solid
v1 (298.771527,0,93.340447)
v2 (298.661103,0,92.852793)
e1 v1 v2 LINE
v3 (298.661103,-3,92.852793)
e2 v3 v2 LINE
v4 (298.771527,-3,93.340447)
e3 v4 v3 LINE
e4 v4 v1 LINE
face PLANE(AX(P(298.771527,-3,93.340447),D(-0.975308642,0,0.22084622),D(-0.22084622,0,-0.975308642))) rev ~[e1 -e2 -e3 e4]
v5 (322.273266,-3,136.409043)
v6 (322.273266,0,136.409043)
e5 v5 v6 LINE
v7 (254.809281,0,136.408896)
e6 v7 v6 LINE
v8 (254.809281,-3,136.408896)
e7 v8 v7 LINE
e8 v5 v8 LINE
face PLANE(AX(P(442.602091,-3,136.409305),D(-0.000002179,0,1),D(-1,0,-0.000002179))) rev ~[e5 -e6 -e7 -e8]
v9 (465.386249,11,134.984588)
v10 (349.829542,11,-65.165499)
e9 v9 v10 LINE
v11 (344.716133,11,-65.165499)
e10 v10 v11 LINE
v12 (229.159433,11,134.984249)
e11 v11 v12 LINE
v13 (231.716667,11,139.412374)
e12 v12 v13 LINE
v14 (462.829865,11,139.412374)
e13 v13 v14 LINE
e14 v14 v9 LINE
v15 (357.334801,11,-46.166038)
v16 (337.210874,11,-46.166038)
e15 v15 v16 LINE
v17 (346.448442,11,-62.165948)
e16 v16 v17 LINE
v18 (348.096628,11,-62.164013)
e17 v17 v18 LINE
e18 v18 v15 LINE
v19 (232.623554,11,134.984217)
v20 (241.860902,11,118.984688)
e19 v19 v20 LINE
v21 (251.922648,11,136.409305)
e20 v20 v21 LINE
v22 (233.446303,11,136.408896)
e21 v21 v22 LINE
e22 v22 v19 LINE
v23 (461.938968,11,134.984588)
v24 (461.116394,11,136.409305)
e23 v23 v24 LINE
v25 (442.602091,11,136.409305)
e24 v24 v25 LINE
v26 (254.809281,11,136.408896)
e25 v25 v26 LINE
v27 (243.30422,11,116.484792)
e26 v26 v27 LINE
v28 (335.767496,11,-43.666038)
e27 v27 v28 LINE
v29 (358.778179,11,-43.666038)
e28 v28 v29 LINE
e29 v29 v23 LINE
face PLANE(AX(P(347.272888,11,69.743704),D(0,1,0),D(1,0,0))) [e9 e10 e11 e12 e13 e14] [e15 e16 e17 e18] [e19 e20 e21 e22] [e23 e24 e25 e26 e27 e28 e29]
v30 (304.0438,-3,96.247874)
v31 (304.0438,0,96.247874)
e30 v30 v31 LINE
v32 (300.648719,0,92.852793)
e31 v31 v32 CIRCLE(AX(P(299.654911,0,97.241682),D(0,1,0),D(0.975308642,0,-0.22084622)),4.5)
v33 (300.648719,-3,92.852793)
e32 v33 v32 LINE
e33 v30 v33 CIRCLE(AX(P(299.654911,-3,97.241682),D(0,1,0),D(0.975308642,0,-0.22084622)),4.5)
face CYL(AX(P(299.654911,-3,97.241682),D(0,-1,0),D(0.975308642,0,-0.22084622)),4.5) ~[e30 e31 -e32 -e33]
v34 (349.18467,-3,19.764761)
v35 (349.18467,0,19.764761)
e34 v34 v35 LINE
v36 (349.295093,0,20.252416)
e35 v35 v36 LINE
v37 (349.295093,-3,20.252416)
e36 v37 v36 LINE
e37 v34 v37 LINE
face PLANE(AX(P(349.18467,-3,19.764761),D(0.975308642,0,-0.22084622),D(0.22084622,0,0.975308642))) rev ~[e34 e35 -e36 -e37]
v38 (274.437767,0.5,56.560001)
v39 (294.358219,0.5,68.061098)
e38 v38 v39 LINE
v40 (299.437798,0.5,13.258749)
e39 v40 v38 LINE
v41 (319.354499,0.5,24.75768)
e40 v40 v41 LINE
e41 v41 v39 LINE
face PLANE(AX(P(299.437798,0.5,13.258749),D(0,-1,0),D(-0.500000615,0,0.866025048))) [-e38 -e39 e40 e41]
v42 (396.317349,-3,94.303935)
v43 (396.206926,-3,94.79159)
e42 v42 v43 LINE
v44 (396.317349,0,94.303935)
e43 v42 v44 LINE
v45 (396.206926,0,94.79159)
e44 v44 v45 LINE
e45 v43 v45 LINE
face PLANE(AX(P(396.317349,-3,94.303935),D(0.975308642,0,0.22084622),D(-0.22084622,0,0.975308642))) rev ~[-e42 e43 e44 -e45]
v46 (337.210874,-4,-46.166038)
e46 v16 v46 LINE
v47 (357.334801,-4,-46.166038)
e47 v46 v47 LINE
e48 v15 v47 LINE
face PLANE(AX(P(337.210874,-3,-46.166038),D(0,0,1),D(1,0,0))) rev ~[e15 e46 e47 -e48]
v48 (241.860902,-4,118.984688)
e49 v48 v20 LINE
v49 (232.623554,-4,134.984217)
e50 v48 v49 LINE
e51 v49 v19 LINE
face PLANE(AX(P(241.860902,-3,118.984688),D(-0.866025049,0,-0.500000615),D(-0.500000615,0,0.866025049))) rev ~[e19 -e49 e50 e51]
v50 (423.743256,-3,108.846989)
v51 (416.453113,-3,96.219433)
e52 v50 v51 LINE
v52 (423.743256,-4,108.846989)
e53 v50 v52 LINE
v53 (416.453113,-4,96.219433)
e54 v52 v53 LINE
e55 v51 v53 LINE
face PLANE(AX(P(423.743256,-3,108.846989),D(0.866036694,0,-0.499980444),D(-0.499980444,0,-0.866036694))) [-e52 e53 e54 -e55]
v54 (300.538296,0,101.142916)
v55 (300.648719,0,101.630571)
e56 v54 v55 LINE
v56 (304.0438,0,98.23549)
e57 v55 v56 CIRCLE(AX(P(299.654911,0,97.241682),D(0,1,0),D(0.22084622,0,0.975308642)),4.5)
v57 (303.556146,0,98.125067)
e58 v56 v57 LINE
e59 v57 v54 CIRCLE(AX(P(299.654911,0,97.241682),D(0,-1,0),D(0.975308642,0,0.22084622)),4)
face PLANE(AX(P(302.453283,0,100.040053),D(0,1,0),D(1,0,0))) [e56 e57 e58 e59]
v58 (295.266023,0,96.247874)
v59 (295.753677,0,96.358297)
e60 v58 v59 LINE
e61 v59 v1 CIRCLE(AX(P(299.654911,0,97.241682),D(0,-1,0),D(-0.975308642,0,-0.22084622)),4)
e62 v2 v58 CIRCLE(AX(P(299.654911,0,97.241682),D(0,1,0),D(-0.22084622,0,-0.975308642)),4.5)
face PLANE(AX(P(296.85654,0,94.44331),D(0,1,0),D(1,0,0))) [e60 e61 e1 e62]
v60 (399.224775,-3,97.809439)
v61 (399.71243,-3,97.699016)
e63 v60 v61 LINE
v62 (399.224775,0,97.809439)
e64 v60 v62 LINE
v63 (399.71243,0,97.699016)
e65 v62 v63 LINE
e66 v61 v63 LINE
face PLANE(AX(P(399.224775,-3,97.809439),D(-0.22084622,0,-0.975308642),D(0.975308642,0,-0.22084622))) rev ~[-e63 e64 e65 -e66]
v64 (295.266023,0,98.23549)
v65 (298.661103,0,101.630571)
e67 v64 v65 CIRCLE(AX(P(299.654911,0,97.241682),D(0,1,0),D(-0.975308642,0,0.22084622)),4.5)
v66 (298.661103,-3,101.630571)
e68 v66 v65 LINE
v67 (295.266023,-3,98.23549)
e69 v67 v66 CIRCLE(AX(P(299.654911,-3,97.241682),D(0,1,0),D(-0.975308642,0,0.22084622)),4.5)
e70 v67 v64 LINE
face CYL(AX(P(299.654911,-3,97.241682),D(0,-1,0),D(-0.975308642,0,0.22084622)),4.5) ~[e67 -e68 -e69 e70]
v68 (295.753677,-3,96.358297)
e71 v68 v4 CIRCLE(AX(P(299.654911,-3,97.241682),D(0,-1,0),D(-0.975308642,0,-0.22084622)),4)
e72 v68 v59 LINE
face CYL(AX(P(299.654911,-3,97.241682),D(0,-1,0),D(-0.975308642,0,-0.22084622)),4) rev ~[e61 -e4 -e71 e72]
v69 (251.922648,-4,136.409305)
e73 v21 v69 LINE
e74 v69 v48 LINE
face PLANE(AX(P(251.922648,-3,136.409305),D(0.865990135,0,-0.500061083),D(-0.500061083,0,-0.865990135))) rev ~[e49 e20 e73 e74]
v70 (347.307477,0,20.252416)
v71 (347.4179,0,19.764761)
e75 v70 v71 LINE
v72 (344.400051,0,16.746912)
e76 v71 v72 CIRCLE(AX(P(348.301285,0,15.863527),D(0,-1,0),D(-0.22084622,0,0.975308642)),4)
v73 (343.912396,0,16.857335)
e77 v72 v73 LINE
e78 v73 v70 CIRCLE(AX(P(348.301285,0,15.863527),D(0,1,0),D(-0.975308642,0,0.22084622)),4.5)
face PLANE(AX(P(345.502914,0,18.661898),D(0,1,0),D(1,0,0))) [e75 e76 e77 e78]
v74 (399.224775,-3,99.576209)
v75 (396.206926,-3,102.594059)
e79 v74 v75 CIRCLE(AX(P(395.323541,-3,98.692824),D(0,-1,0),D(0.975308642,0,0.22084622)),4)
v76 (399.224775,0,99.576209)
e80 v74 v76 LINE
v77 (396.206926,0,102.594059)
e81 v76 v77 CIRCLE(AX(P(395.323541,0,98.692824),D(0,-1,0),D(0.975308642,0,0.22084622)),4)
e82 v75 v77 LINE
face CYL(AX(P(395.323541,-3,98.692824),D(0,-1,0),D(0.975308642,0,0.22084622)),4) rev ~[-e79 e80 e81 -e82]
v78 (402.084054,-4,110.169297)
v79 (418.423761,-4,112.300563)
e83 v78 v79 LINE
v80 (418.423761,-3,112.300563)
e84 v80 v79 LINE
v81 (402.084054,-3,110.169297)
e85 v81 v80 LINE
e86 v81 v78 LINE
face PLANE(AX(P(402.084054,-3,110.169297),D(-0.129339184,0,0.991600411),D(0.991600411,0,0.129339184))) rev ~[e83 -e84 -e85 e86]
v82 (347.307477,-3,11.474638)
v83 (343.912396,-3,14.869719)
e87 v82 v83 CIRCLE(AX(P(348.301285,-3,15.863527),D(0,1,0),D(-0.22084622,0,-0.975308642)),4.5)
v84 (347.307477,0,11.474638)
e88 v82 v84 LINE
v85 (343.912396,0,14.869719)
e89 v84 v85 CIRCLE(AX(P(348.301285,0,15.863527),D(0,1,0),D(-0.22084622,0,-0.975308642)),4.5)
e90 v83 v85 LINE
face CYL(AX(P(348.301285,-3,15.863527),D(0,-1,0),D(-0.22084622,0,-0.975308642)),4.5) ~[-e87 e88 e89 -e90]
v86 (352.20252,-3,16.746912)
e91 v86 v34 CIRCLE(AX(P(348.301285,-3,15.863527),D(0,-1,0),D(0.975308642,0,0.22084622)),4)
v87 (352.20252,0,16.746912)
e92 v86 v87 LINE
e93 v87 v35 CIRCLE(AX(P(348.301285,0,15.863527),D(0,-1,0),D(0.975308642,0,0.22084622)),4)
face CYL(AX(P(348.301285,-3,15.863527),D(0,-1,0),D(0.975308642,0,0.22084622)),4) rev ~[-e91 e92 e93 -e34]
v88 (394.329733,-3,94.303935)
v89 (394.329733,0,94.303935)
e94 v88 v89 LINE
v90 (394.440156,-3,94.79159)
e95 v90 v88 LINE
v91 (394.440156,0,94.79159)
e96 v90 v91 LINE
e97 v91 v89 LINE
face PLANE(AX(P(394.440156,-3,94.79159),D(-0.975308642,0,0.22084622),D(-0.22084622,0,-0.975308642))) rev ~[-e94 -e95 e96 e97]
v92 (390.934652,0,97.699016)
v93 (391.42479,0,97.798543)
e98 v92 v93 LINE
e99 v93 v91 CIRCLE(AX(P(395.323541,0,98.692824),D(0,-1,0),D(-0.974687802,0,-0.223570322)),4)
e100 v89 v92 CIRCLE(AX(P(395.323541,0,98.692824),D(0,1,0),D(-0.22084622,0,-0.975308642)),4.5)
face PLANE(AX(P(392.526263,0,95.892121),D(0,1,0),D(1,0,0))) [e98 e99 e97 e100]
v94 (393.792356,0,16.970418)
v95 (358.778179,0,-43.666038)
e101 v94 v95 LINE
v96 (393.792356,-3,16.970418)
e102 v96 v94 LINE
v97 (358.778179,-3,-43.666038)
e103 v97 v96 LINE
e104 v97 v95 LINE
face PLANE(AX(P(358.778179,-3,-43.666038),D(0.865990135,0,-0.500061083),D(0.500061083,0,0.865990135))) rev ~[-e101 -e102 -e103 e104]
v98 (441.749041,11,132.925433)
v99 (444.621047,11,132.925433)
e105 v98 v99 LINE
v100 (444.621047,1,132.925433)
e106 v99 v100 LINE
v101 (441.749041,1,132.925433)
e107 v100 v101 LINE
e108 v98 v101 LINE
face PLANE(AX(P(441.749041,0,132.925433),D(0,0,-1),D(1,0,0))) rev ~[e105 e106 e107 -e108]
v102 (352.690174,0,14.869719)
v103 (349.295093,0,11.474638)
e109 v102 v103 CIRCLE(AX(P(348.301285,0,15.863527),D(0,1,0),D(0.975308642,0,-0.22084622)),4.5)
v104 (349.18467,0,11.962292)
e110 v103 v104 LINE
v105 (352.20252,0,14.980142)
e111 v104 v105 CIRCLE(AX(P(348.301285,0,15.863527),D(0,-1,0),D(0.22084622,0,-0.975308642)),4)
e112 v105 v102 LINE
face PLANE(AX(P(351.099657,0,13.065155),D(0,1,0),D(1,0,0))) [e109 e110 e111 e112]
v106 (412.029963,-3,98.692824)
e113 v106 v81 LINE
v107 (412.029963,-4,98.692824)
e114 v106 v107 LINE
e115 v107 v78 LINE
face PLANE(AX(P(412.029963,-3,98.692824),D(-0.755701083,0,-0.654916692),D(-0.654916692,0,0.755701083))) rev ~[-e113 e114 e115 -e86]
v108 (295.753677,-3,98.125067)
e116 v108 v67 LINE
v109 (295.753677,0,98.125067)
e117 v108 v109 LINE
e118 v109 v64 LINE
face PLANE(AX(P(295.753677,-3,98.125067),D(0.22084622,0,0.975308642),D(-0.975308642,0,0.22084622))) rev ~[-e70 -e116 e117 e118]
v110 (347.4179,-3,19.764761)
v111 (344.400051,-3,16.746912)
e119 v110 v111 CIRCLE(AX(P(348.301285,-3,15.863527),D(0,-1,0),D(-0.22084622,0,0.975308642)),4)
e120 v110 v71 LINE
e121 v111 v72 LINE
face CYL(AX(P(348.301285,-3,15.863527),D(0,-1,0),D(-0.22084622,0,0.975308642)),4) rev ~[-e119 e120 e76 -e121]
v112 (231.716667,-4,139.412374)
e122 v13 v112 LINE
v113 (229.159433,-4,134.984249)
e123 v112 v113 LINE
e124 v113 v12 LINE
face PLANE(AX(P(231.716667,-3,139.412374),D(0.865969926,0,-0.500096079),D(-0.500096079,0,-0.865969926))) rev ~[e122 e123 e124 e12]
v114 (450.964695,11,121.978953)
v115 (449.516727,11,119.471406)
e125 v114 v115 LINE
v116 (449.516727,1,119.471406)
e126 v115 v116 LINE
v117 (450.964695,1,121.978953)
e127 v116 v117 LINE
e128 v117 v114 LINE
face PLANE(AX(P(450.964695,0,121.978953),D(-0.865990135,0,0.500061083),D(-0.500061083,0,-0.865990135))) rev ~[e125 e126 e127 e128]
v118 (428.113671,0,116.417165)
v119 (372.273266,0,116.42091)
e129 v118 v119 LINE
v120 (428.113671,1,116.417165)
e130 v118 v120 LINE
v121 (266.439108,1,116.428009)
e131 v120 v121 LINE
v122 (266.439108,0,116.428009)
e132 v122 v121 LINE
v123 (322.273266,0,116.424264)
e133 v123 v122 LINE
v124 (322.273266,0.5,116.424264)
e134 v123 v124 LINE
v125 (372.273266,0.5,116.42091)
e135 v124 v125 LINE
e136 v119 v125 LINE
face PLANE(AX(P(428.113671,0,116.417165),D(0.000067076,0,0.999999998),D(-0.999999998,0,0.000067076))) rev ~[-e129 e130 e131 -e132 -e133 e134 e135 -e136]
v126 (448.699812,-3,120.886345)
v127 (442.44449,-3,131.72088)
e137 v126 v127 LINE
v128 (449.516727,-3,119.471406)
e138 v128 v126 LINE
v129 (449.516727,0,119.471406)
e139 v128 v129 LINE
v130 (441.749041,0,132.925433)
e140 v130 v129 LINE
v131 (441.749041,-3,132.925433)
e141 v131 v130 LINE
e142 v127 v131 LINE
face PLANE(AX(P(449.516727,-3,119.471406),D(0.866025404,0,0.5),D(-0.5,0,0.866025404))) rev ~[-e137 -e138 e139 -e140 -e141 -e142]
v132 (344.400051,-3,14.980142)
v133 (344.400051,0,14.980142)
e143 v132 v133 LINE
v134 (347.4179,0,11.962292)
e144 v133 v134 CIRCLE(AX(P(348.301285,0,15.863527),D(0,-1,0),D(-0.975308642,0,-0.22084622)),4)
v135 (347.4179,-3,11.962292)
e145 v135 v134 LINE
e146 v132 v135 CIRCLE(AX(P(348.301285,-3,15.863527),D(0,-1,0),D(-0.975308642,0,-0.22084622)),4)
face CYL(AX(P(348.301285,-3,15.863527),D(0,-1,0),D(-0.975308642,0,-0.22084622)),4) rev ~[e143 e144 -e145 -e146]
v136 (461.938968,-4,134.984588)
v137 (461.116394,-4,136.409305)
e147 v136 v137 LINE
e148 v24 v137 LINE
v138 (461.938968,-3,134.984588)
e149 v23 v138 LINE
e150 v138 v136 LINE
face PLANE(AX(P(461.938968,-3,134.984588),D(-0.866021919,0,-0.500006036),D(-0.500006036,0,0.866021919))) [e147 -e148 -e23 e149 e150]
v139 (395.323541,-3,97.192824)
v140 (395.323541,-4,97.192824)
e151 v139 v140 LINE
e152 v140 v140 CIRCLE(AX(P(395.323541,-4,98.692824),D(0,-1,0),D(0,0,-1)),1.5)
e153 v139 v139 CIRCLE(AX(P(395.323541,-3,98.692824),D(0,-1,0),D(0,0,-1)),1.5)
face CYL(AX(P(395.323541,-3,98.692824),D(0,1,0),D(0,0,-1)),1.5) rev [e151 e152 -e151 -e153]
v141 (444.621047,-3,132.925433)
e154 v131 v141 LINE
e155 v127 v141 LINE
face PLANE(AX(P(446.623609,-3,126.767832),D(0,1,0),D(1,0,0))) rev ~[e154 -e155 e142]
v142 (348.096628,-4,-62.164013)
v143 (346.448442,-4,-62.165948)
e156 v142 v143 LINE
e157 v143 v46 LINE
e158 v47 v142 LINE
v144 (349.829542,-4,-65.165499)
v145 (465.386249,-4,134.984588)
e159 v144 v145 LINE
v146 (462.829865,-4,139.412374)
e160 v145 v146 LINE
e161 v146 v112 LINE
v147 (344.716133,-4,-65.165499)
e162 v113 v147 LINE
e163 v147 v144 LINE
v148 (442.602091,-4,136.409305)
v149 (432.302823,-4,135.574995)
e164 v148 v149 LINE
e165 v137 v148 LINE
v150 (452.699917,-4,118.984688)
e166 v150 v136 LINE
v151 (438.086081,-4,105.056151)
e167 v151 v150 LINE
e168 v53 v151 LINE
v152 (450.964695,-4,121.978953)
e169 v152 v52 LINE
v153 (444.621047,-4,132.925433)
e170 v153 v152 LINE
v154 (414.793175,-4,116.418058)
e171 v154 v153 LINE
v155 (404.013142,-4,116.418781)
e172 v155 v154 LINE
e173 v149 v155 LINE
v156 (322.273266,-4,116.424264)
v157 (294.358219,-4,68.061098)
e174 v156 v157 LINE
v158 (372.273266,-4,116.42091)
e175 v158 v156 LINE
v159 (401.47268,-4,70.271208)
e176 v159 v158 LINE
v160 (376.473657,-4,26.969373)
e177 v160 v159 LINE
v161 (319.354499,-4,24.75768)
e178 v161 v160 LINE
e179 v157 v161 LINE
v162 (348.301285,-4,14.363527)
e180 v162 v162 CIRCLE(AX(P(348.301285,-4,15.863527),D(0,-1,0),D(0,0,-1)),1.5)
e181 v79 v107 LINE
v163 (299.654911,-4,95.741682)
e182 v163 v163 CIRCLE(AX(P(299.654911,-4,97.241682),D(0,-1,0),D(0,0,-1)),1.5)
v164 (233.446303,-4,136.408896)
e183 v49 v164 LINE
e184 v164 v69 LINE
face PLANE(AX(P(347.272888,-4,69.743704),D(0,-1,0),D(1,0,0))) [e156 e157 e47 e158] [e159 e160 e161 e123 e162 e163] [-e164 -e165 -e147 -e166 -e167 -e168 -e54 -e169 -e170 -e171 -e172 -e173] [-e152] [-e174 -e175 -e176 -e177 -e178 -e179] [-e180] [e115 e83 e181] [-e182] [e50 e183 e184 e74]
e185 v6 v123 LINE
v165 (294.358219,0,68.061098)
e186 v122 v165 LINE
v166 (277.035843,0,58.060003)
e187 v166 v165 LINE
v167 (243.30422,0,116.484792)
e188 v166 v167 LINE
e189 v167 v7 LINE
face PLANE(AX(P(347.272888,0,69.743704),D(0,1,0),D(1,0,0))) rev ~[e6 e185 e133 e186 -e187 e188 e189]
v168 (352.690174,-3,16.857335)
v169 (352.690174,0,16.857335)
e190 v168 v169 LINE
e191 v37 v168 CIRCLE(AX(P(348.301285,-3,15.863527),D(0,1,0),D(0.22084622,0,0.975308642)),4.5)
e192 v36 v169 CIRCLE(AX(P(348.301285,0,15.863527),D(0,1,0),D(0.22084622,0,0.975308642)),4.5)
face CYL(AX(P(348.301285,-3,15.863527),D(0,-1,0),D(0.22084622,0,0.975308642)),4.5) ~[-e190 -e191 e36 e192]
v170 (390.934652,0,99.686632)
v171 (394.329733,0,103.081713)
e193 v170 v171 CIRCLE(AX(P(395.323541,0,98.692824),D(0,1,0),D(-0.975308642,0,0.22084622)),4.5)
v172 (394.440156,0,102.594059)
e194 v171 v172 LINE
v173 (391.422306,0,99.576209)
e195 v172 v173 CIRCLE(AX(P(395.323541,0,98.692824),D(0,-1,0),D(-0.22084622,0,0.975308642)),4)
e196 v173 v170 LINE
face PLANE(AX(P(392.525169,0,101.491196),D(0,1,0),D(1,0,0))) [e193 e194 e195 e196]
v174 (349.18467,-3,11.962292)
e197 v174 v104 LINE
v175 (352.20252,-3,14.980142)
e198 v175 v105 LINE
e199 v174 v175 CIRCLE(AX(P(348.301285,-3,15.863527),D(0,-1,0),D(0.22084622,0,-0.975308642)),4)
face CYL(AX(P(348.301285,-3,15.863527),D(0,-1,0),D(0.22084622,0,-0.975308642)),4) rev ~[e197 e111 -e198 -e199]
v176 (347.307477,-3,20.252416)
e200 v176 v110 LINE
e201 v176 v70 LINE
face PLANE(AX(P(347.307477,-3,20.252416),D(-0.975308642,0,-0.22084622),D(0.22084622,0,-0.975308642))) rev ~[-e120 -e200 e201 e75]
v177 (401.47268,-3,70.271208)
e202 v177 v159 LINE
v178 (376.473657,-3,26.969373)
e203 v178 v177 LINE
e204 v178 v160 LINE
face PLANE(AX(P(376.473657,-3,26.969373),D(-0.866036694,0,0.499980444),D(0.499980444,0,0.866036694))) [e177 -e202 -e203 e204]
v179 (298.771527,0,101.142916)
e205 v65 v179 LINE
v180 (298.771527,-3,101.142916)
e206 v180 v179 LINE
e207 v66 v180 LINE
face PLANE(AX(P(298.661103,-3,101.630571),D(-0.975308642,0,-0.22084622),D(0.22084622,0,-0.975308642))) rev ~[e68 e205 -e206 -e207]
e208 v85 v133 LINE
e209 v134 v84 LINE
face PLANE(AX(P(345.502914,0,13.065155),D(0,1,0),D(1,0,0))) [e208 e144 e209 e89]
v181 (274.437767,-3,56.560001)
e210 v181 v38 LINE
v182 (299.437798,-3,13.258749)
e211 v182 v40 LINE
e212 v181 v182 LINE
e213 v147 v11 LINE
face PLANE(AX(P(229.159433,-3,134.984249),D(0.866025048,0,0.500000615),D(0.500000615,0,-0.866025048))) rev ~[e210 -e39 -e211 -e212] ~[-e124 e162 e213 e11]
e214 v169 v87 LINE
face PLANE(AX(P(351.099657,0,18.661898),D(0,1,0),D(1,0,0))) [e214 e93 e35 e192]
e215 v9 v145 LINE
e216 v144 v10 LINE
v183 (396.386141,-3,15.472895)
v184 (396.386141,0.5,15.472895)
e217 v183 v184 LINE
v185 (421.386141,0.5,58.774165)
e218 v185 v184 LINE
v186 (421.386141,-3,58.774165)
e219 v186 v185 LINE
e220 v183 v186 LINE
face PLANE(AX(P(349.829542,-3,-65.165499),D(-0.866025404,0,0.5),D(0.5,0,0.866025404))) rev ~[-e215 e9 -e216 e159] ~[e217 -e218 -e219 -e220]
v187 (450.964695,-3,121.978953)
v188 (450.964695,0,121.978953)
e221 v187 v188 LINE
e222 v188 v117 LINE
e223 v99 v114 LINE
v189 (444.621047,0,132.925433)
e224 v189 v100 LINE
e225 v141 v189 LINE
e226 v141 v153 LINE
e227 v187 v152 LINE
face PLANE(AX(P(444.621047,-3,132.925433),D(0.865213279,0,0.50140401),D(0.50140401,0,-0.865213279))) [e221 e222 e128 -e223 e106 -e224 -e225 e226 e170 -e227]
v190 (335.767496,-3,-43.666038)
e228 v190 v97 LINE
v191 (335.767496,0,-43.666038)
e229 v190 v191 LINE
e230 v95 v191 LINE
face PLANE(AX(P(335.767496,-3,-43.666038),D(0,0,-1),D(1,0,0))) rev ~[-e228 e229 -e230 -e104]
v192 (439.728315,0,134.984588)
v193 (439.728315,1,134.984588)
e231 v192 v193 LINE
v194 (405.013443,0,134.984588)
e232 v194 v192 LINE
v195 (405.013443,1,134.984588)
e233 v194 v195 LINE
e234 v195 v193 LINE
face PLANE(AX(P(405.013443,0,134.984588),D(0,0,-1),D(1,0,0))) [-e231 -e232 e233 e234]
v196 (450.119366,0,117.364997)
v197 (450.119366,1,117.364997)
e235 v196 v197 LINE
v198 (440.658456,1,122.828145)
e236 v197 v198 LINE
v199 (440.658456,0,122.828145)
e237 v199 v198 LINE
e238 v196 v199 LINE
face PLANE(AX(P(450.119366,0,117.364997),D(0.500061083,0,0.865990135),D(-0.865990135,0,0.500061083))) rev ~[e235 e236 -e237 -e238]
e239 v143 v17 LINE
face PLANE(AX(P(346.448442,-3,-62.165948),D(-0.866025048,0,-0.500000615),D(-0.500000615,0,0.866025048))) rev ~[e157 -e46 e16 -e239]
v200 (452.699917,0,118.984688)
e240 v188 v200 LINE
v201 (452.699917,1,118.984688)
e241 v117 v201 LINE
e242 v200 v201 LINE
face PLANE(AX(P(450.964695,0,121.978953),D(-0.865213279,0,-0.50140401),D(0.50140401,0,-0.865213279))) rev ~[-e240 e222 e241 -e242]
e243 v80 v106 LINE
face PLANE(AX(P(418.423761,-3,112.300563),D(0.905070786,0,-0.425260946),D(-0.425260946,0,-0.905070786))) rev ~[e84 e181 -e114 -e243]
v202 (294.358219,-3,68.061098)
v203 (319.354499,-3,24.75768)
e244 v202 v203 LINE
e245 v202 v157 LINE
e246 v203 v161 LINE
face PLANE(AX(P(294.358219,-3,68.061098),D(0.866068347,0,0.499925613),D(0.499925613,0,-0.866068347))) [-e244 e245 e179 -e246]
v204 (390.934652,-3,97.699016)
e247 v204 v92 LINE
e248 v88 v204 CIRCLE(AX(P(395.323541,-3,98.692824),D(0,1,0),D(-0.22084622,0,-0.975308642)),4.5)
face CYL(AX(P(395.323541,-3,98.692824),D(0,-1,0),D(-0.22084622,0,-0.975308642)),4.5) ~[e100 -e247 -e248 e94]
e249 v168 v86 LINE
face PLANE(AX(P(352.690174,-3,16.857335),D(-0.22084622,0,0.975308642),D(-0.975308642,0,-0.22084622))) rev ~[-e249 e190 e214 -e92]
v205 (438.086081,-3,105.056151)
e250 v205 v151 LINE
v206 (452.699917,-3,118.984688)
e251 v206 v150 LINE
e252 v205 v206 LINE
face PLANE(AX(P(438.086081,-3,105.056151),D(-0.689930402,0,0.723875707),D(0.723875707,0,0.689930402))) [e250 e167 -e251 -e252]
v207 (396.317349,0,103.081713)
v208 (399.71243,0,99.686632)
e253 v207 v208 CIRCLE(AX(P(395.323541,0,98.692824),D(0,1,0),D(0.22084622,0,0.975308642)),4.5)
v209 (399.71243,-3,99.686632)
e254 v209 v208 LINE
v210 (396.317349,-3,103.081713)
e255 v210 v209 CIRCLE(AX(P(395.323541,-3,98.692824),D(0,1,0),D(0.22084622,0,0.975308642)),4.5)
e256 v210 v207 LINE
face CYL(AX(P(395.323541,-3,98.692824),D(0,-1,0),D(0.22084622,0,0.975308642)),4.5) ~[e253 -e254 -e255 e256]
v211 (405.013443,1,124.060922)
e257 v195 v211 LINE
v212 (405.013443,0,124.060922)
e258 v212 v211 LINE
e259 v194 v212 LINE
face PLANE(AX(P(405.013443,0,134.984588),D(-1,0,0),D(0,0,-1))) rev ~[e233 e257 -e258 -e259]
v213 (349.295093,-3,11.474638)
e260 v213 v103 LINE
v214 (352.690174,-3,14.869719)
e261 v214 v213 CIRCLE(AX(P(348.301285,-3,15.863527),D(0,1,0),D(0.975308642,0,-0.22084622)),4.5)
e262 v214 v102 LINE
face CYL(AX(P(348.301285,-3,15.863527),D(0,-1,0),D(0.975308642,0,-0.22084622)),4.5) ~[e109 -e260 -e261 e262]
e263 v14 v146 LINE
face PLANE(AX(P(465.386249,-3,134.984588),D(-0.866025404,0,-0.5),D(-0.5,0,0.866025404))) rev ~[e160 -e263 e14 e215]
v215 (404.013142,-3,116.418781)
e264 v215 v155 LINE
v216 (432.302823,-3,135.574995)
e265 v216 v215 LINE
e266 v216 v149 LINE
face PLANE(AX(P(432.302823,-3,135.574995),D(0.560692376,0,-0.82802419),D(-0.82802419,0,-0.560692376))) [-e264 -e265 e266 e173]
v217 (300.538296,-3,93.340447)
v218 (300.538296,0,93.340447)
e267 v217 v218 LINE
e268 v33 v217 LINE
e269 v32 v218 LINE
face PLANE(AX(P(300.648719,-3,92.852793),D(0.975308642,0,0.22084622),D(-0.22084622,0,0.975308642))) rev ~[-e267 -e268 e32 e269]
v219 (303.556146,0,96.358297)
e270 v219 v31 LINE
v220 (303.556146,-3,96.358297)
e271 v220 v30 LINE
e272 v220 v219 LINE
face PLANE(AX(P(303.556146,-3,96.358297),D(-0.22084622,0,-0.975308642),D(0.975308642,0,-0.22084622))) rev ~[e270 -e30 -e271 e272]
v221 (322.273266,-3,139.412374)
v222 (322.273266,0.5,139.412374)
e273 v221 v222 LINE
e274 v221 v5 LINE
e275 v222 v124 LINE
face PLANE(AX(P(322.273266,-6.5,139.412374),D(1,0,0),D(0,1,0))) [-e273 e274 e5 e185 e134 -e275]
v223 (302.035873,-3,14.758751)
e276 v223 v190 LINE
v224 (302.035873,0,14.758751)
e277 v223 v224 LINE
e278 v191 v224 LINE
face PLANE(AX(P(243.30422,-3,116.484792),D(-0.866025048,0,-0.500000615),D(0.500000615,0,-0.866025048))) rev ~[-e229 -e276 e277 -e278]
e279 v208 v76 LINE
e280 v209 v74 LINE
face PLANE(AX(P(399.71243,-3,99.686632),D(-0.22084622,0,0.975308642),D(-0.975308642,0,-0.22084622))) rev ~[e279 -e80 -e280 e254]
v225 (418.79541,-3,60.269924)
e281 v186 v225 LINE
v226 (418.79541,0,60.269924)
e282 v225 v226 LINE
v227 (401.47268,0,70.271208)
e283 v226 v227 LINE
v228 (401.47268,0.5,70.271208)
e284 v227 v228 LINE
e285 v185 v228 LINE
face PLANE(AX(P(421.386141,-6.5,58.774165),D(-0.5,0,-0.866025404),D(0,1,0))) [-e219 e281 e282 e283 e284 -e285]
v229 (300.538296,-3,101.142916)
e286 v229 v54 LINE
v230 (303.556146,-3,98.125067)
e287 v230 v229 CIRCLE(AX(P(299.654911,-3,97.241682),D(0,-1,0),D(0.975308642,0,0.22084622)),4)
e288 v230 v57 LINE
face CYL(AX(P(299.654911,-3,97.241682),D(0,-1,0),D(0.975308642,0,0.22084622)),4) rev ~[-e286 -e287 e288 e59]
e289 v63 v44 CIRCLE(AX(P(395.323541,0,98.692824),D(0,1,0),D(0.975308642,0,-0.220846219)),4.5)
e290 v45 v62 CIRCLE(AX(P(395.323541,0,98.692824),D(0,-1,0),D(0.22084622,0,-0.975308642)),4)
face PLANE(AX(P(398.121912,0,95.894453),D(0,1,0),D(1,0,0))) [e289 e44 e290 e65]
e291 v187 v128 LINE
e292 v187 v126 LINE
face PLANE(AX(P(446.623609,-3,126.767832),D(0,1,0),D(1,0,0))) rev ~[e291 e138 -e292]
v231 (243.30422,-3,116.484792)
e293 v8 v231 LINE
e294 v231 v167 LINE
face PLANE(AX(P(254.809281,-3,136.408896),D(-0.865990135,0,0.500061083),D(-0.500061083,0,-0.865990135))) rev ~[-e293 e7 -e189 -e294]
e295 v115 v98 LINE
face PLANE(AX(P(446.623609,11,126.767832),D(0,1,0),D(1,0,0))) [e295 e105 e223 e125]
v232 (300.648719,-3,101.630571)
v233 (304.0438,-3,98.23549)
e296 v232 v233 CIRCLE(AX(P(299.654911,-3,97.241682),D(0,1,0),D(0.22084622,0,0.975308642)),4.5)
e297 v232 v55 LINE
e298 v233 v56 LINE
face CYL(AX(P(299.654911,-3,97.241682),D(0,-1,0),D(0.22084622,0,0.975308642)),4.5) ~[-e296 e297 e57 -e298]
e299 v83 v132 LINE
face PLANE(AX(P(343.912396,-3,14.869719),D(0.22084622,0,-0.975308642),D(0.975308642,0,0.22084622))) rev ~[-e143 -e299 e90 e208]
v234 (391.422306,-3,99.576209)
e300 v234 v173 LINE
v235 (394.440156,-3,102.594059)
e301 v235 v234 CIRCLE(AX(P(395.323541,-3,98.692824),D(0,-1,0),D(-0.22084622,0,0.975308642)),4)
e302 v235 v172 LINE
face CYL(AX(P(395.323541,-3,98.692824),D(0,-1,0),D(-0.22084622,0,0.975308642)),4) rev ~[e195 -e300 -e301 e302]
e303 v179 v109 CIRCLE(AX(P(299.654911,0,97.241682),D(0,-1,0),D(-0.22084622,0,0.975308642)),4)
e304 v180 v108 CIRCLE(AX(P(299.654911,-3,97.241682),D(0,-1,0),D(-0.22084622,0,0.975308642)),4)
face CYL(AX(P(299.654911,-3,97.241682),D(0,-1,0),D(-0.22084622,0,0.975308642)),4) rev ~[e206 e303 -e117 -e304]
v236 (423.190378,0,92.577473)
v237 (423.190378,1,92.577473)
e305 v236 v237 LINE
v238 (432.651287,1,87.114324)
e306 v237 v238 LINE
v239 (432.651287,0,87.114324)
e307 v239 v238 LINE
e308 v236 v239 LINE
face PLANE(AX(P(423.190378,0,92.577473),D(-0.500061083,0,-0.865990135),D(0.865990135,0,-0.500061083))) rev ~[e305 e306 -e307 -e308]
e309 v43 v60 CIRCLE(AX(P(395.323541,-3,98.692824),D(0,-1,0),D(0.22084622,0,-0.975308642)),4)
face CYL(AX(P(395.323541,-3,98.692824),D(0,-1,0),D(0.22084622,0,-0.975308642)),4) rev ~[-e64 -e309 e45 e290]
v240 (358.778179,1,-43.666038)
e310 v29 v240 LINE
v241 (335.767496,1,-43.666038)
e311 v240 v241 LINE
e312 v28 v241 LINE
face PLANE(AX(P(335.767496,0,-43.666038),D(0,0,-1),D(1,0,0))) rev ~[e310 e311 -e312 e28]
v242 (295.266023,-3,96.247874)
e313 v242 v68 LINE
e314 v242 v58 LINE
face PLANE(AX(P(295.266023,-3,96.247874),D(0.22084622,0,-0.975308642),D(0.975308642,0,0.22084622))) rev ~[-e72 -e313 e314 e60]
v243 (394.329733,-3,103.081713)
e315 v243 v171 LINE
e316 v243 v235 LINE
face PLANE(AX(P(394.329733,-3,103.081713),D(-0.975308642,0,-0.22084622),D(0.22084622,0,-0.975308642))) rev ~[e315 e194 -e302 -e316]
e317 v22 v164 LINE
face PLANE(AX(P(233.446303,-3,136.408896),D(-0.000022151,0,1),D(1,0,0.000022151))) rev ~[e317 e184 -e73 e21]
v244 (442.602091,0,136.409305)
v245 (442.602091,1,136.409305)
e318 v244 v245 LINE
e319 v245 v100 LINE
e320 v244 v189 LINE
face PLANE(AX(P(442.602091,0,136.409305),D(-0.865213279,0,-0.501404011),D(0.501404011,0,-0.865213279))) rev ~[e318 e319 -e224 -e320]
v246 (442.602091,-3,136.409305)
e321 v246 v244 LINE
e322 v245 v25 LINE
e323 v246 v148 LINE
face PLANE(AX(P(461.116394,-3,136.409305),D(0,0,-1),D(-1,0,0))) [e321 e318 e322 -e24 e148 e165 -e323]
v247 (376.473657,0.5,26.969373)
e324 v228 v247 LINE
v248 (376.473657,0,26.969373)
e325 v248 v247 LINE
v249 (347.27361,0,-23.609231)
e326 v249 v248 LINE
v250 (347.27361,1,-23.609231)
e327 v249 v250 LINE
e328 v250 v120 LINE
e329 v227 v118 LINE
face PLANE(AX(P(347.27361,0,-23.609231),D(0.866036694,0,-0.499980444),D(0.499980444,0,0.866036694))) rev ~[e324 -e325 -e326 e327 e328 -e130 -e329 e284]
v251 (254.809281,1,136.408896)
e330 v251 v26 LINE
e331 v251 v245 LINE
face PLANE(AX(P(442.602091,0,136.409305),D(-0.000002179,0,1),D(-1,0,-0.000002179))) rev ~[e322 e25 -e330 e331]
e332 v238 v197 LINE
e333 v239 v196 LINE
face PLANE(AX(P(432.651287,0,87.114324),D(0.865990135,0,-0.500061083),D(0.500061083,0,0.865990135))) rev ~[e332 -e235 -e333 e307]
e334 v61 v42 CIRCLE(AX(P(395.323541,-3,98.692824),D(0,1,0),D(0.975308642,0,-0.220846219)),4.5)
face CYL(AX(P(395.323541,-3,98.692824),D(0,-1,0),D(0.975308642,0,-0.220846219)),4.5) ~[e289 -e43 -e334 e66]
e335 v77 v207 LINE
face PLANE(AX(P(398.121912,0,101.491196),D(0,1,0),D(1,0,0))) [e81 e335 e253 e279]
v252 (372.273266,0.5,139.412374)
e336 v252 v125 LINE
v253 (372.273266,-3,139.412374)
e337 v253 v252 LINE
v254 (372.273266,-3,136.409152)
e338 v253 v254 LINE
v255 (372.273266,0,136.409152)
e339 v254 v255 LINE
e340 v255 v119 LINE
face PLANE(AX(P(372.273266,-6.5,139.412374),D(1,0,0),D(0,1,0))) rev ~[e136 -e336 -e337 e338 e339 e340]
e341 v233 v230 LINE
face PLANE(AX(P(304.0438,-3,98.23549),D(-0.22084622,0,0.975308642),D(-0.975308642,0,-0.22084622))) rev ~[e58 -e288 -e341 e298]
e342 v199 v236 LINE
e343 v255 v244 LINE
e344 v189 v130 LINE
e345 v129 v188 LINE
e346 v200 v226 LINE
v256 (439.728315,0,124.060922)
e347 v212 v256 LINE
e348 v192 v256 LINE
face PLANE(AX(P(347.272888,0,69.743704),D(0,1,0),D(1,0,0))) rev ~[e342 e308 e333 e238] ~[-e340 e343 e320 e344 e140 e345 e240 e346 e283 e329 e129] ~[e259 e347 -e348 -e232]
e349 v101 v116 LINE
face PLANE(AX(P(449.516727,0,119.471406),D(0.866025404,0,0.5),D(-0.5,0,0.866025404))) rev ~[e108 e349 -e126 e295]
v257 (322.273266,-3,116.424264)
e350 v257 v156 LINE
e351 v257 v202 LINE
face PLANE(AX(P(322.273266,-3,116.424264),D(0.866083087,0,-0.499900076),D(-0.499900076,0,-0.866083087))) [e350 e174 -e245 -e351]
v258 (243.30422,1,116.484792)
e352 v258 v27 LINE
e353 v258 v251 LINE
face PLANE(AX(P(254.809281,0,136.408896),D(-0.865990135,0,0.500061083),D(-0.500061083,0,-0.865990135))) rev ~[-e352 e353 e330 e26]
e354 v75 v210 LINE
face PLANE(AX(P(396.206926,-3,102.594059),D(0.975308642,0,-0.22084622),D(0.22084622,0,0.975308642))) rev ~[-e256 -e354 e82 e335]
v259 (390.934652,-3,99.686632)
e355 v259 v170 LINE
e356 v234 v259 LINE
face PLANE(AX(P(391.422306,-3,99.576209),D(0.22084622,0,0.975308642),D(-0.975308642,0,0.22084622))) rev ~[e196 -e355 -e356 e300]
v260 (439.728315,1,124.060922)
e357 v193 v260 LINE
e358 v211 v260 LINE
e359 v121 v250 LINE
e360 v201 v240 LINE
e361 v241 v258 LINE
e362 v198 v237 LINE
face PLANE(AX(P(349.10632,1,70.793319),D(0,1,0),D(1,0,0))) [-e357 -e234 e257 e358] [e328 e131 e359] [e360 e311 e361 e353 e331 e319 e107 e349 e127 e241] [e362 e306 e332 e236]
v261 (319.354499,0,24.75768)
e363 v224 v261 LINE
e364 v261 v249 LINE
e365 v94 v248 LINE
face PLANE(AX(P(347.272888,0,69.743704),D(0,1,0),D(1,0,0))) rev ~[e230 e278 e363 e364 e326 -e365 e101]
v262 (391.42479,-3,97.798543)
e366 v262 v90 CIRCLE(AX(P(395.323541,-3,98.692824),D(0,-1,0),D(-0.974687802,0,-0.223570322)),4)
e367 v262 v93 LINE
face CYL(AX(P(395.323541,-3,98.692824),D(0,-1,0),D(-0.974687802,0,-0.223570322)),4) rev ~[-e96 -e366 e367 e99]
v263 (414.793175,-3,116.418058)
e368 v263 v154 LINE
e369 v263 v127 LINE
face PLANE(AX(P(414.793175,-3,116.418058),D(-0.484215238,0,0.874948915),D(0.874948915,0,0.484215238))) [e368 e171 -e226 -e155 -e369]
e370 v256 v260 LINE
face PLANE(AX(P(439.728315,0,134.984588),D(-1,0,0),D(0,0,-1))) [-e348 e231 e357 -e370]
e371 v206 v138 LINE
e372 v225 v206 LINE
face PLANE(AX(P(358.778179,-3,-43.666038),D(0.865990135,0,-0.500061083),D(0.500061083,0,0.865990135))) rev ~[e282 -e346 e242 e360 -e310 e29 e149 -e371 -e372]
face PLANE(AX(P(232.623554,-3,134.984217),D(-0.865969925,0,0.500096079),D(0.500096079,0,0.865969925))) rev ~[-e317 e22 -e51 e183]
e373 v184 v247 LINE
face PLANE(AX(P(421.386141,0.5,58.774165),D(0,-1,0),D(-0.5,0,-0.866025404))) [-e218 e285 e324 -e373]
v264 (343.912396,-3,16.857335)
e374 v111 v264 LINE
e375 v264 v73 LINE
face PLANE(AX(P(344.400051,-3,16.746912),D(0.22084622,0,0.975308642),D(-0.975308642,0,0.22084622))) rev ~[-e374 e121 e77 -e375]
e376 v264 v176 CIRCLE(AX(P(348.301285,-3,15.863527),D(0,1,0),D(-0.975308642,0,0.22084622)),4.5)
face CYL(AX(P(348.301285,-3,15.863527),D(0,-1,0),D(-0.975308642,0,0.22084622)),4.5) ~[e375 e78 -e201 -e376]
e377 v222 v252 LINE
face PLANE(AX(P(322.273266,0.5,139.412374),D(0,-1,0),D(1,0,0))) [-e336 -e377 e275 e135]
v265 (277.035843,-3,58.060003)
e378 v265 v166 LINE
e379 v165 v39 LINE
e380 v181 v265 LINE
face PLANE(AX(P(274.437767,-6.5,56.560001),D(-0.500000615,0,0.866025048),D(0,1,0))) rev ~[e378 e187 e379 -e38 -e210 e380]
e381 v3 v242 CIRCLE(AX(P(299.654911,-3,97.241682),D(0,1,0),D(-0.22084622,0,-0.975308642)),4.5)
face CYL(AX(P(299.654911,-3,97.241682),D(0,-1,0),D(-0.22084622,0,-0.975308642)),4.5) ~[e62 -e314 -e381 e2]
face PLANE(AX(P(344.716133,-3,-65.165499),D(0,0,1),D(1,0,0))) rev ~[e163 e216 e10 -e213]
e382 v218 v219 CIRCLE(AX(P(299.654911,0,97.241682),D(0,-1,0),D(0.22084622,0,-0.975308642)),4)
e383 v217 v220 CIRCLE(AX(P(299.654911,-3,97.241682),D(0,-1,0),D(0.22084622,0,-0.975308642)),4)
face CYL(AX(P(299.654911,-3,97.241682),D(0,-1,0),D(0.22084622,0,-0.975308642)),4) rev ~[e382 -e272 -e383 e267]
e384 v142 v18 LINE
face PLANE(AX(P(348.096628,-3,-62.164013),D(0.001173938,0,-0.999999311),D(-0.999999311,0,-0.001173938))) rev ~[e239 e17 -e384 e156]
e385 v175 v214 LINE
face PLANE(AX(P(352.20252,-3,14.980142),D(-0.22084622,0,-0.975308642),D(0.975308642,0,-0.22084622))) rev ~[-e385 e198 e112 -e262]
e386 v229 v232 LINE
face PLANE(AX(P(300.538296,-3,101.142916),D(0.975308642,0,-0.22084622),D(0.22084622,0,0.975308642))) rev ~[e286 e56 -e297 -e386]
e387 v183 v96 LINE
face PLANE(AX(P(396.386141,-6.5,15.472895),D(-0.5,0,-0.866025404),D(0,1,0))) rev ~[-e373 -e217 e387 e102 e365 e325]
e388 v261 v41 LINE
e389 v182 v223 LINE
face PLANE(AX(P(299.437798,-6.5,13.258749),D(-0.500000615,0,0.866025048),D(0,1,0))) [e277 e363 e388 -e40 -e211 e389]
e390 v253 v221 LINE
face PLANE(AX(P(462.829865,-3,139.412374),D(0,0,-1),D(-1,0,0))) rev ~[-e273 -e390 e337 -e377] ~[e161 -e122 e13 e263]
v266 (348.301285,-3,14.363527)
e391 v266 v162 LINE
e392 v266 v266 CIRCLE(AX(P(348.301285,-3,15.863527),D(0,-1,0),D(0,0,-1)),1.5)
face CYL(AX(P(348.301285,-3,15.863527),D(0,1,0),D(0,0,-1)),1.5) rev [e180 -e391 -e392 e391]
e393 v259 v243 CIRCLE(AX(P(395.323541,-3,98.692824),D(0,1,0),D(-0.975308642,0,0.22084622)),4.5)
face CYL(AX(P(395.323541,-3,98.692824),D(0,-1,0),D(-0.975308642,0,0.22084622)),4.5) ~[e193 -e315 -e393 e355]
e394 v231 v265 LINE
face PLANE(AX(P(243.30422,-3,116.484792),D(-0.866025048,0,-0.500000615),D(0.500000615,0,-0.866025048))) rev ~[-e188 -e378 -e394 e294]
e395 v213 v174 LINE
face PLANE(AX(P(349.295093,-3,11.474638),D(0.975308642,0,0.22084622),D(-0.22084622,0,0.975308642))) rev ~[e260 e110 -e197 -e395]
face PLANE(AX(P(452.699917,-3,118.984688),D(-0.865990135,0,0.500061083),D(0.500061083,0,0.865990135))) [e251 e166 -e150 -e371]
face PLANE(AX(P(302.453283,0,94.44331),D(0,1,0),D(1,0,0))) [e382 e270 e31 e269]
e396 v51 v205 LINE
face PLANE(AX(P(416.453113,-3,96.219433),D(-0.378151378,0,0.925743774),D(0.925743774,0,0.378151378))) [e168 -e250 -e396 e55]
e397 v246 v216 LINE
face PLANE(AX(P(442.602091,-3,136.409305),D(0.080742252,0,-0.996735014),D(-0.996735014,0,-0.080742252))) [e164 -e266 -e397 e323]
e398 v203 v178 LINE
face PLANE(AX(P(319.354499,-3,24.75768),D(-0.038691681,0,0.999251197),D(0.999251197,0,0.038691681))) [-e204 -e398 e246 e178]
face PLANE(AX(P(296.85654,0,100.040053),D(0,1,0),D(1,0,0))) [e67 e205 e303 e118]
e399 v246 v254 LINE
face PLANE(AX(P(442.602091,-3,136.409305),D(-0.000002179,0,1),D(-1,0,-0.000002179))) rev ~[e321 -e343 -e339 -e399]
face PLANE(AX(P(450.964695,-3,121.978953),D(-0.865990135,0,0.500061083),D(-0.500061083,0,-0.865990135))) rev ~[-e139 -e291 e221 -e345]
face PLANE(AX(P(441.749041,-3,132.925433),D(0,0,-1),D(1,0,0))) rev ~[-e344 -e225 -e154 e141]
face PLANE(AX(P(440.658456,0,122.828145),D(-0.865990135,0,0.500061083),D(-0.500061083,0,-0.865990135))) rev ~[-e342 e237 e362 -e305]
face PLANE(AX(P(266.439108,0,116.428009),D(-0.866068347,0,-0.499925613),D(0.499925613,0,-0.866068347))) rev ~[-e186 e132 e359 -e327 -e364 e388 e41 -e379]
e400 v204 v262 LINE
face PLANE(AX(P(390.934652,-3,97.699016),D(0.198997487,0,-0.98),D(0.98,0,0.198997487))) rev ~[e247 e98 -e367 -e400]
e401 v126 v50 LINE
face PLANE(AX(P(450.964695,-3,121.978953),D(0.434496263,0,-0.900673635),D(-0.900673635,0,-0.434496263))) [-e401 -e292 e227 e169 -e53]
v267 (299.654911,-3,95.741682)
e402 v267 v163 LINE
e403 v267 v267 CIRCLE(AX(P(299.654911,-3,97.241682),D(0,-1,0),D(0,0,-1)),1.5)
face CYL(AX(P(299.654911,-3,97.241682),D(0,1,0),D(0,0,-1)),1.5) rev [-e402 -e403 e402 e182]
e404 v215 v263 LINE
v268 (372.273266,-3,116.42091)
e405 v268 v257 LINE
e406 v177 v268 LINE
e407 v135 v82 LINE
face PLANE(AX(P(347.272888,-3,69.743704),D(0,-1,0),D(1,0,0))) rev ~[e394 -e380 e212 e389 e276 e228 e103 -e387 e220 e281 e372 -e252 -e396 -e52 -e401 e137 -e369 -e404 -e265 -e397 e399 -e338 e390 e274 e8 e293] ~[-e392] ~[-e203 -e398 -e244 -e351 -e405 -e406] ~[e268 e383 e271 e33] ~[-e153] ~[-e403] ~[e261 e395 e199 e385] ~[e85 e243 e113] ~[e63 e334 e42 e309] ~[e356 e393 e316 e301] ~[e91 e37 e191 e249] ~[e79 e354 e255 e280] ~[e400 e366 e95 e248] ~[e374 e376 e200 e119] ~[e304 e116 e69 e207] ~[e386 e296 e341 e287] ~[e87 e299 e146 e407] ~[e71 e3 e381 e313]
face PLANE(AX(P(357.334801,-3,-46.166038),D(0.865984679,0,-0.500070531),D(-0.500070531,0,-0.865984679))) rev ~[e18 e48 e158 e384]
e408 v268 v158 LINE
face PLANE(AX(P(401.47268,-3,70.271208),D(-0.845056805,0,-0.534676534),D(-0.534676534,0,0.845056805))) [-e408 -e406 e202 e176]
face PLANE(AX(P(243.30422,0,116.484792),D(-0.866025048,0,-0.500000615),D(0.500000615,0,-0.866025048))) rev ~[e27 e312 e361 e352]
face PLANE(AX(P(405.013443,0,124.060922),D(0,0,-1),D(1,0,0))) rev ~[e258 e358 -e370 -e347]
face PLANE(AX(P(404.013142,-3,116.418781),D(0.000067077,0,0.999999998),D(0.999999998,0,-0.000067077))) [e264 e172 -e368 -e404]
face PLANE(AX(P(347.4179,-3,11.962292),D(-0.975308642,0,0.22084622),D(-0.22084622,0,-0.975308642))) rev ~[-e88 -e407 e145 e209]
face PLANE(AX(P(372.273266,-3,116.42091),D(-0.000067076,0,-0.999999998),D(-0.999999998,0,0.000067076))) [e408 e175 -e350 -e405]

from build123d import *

# Parameters (mm, degrees)
SKETCH1_W                = 34.714871787
SKETCH1_H                = 10.923666426
BOSS_EXTRUDE1_DEPTH      = 1
BOSS_EXTRUDE2_DEPTH      = 11
BOSS_EXTRUDE3_DEPTH      = 5
BOSS_EXTRUDE3_DEPTH_BACK = 3
SKETCH3_W                = 50
SKETCH3_H                = 7
CUT_EXTRUDE3_DEPTH       = 25
SKETCH5_W                = 50
SKETCH5_H                = 7
CUT_EXTRUDE4_DEPTH       = 25
SKETCH6_W                = 50
SKETCH6_H                = 7
CUT_EXTRUDE5_DEPTH       = 25
SKETCH8_R                = 1.5
BOSS_EXTRUDE5_DEPTH      = 1
BOSS_EXTRUDE10_DEPTH     = 3


with BuildPart() as part:
    # Sketch1 → Boss-Extrude1 (new body)
    with BuildSketch(Plane(origin=(0, 0, 0), x_dir=(1, 0, 0), z_dir=(0, 1, 0))):
        Polygon((243.304219775, -116.484791865), (254.809280577, -136.408896137), (442.602090749, -136.409305398), (444.621046679, -132.925433224), (441.749040748, -132.925433224), (449.516726724, -119.471406458), (450.964695298, -121.978953123), (452.699916622, -118.984688018), (358.778179036, 43.666038065), (335.767496284, 43.666038065), align=None)
        with Locations((422.370878913, -129.522754792)):
            Rectangle(SKETCH1_W, SKETCH1_H, mode=Mode.SUBTRACT)
        Polygon((423.190377512, -92.577472767), (432.651287025, -87.114324326), (450.119365975, -117.364996826), (440.658456462, -122.828145267), align=None, mode=Mode.SUBTRACT)
        Polygon((428.113670919, -116.417164681), (266.439108268, -116.428009237), (347.273609729, 23.609230821), align=None, mode=Mode.SUBTRACT)
    extrude(amount=BOSS_EXTRUDE1_DEPTH)

    # Sketch1<9> → Boss-Extrude2 (add)
    # profile 1 of 2: a face of its own
    with BuildSketch(Plane(origin=(0, 0, 0), x_dir=(1, 0, 0), z_dir=(0, 1, 0))):
        Polygon((229.159432548, -134.984249184), (231.716666588, -139.412373829), (462.829865412, -139.412373829), (465.38624875, -134.984588004), (349.829542096, 65.165499075), (344.716133219, 65.165499075), align=None)
        Polygon((251.922647989, -136.409305399), (233.446303401, -136.408896138), (232.62355396, -134.984217357), (241.860901689, -118.984688018), align=None, mode=Mode.SUBTRACT)
        Polygon((442.602090749, -136.409305398), (254.809280577, -136.408896137), (243.304219775, -116.484791865), (335.767496284, 43.666038065), (358.778179036, 43.666038065), (461.938967958, -134.984588006), (461.116393749, -136.409305398), align=None, mode=Mode.SUBTRACT)
        Polygon((348.096628302, 62.164013367), (357.334800991, 46.166038067), (337.210874326, 46.166038067), (346.44844193, 62.165948237), align=None, mode=Mode.SUBTRACT)
    # profile 2 of 2: a face of its own
    with BuildSketch(Plane(origin=(0, 0, 0), x_dir=(1, 0, 0), z_dir=(0, 1, 0))):
        Polygon((441.749040748, -132.925433224), (444.621046679, -132.925433224), (450.964695298, -121.978953123), (449.516726724, -119.471406458), align=None)
    extrude(amount=BOSS_EXTRUDE2_DEPTH)

    # Sketch1<10> → Boss-Extrude3 (add, two sides: drawn at the far end of the back side and taken through both)
    # profile 1 of 2: a face of its own
    with BuildSketch(Plane(origin=(0, 0, 0), x_dir=(1, 0, 0), z_dir=(0, 1, 0)).offset(-BOSS_EXTRUDE3_DEPTH_BACK)):
        Polygon((229.159432548, -134.984249184), (231.716666588, -139.412373829), (462.829865412, -139.412373829), (465.38624875, -134.984588004), (349.829542096, 65.165499075), (344.716133219, 65.165499075), align=None)
        Polygon((251.922647989, -136.409305399), (233.446303401, -136.408896138), (232.62355396, -134.984217357), (241.860901689, -118.984688018), align=None, mode=Mode.SUBTRACT)
        Polygon((442.602090749, -136.409305398), (254.809280577, -136.408896137), (243.304219775, -116.484791865), (335.767496284, 43.666038065), (358.778179036, 43.666038065), (461.938967958, -134.984588006), (461.116393749, -136.409305398), align=None, mode=Mode.SUBTRACT)
        Polygon((348.096628302, 62.164013367), (357.334800991, 46.166038067), (337.210874326, 46.166038067), (346.44844193, 62.165948237), align=None, mode=Mode.SUBTRACT)
    # profile 2 of 2: a face of its own
    with BuildSketch(Plane(origin=(0, 0, 0), x_dir=(1, 0, 0), z_dir=(0, 1, 0)).offset(-BOSS_EXTRUDE3_DEPTH_BACK)):
        Polygon((441.749040748, -132.925433224), (444.621046679, -132.925433224), (450.964695298, -121.978953123), (449.516726724, -119.471406458), align=None)
    extrude(amount=BOSS_EXTRUDE3_DEPTH + BOSS_EXTRUDE3_DEPTH_BACK)

    # Sketch3 → Cut-Extrude3 (cut)
    with BuildSketch(Plane(origin=(290.589645397, 0, -167.772009994), x_dir=(-0.49999999999998745, 0, -0.8660254037844459), z_dir=(0.8660254037844459, 0, -0.49999999999998745))):
        with Locations((-236.592990632, -3)):
            Rectangle(SKETCH3_W, SKETCH3_H)
    extrude(amount=-CUT_EXTRUDE3_DEPTH, mode=Mode.SUBTRACT)

    # Sketch5 → Cut-Extrude4 (cut)
    with BuildSketch(Plane.XY.offset(139.412373829)):
        with Locations((347.273266, -3)):
            Rectangle(SKETCH5_W, SKETCH5_H)
    extrude(amount=-CUT_EXTRUDE4_DEPTH, mode=Mode.SUBTRACT)

    # Sketch6 → Cut-Extrude5 (cut)
    with BuildSketch(Plane(origin=(230.319375798, 0, 132.975171837), x_dir=(-0.5000006154012504, 0, 0.8660250484820695), z_dir=(-0.8660250484820695, 0, -0.5000006154012504))):
        with Locations((-113.236674799, -3)):
            Rectangle(SKETCH6_W, SKETCH6_H)
    extrude(amount=-CUT_EXTRUDE5_DEPTH, mode=Mode.SUBTRACT)

    # Sketch8 → Boss-Extrude5 (add)
    with BuildSketch(Plane.XZ.offset(3)):
        Polygon((349.829542096, -65.165499075), (465.38624875, 134.984588004), (462.829865412, 139.412373829), (231.716666588, 139.412373829), (229.159432548, 134.984249184), (344.716133219, -65.165499075), align=None)
        with Locations((395.323540807, 98.692824234)):
            Circle(SKETCH8_R, mode=Mode.SUBTRACT)
        with Locations((348.301285091, 15.863526629)):
            Circle(SKETCH8_R, mode=Mode.SUBTRACT)
        with Locations((299.654911442, 97.24168178)):
            Circle(SKETCH8_R, mode=Mode.SUBTRACT)
        Polygon((414.793175166, 116.418058172), (444.621046679, 132.925433224), (450.964695298, 121.978953123), (423.743256024, 108.846989255), (416.453113266, 96.21943309), (438.086080689, 105.056150836), (452.699916622, 118.984688018), (461.938967958, 134.984588006), (461.116393749, 136.409305398), (442.602090749, 136.409305398), (432.302823198, 135.574995335), (404.013141868, 116.418781259), align=None, mode=Mode.SUBTRACT)
        Polygon((322.273266, 116.42426408), (294.358218631, 68.061097964), (319.354499367, 24.757680453), (376.473657316, 26.969372806), (401.47267951, 70.271207531), (372.273266, 116.420910257), align=None, mode=Mode.SUBTRACT)
        Polygon((233.446303401, 136.408896138), (251.922647989, 136.409305399), (241.860901689, 118.984688018), (232.62355396, 134.984217357), align=None, mode=Mode.SUBTRACT)
        Polygon((337.210874326, -46.166038067), (357.334800991, -46.166038067), (348.096628302, -62.164013367), (346.44844193, -62.165948237), align=None, mode=Mode.SUBTRACT)
        Polygon((418.423760883, 112.300563217), (412.029962691, 98.692824234), (402.084054392, 110.169297153), align=None, mode=Mode.SUBTRACT)
    extrude(amount=BOSS_EXTRUDE5_DEPTH)

    # Sketch12 → Boss-Extrude10 (add)
    with BuildSketch(Plane(origin=(0, -3, 0), x_dir=(1, 0, 0), z_dir=(0, 1, 0))):
        with BuildLine():
            ThreePointArc((352.690173981, -14.869718639), (351.483265607, -12.681546114), (349.295093082, -11.47463774))
            Line((349.295093081, -11.47463774), (349.184669971, -11.962292061))
            ThreePointArc((349.184669972, -11.962292061), (351.129712216, -13.035099504), (352.20251966, -14.980141749))
            Line((352.202519659, -14.980141749), (352.69017398, -14.869718639))
        make_face()
        with BuildLine():
            Line((347.417900211, -11.962292061), (347.307477101, -11.47463774))
            ThreePointArc((347.307477101, -11.47463774), (345.119304576, -12.681546114), (343.912396202, -14.869718639))
            Line((343.912396203, -14.869718639), (344.400050524, -14.980141749))
            ThreePointArc((344.400050523, -14.980141749), (345.472857967, -13.035099504), (347.417900211, -11.962292061))
        make_face()
        with BuildLine():
            ThreePointArc((349.295093082, -20.252415518), (351.483265607, -19.045507145), (352.690173981, -16.857334619))
            Line((352.69017398, -16.857334619), (352.202519659, -16.746911509))
            ThreePointArc((352.20251966, -16.746911509), (351.129712216, -18.691953754), (349.184669972, -19.764761197))
            Line((349.184669971, -19.764761197), (349.295093081, -20.252415518))
        make_face()
        with BuildLine():
            Line((344.400050524, -16.746911509), (343.912396203, -16.857334619))
            ThreePointArc((343.912396202, -16.857334619), (345.119304576, -19.045507145), (347.307477101, -20.252415518))
            Line((347.307477101, -20.252415518), (347.417900211, -19.764761197))
            ThreePointArc((347.417900211, -19.764761197), (345.472857967, -18.691953754), (344.400050523, -16.746911509))
        make_face()
        with BuildLine():
            Line((394.440155927, -94.791589666), (394.329732817, -94.303935345))
            ThreePointArc((394.329732817, -94.303935345), (392.141560292, -95.510843718), (390.934651918, -97.699016244))
            Line((390.934651918, -97.699016244), (391.4247896, -97.798542945))
            ThreePointArc((391.4247896, -97.798542945), (392.499067689, -95.860448622), (394.440155927, -94.791589666))
        make_face()
        with BuildLine():
            ThreePointArc((399.712429696, -97.699016244), (398.505521323, -95.510843718), (396.317348797, -94.303935345))
            Line((396.317348797, -94.303935345), (396.206925687, -94.791589666))
            ThreePointArc((396.206925687, -94.791589666), (398.151967932, -95.864397109), (399.224775375, -97.809439354))
            Line((399.224775375, -97.809439354), (399.712429696, -97.699016244))
        make_face()
        with BuildLine():
            Line((391.422306239, -99.576209114), (390.934651918, -99.686632224))
            ThreePointArc((390.934651918, -99.686632224), (392.141560292, -101.874804749), (394.329732817, -103.081713123))
            Line((394.329732817, -103.081713122), (394.440155927, -102.594058801))
            ThreePointArc((394.440155927, -102.594058802), (392.495113682, -101.521251358), (391.422306239, -99.576209114))
        make_face()
        with BuildLine():
            ThreePointArc((396.317348797, -103.081713123), (398.505521323, -101.874804749), (399.712429696, -99.686632224))
            Line((399.712429696, -99.686632224), (399.224775375, -99.576209114))
            ThreePointArc((399.224775375, -99.576209114), (398.151967932, -101.521251358), (396.206925687, -102.594058802))
            Line((396.206925687, -102.594058801), (396.317348797, -103.081713122))
        make_face()
        with BuildLine():
            ThreePointArc((298.661103452, -92.852792892), (296.472930927, -94.059701265), (295.266022553, -96.24787379))
            Line((295.266022553, -96.24787379), (295.753676874, -96.3582969))
            ThreePointArc((295.753676874, -96.3582969), (296.826484317, -94.413254656), (298.771526562, -93.340447213))
            Line((298.771526562, -93.340447212), (298.661103452, -92.852792891))
        make_face()
        with BuildLine():
            Line((295.753676874, -98.12506666), (295.266022553, -98.23548977))
            ThreePointArc((295.266022553, -98.23548977), (296.472930927, -100.423662295), (298.661103452, -101.630570669))
            Line((298.661103452, -101.630570669), (298.771526562, -101.142916348))
            ThreePointArc((298.771526562, -101.142916348), (296.826484317, -100.070108905), (295.753676874, -98.12506666))
        make_face()
        with BuildLine():
            ThreePointArc((304.04380033, -96.24787379), (302.836891957, -94.059701265), (300.648719432, -92.852792892))
            Line((300.648719432, -92.852792891), (300.538296322, -93.340447212))
            ThreePointArc((300.538296322, -93.340447213), (302.483338566, -94.413254656), (303.55614601, -96.3582969))
            Line((303.55614601, -96.3582969), (304.043800331, -96.24787379))
        make_face()
        with BuildLine():
            Line((300.538296322, -101.142916348), (300.648719432, -101.630570669))
            ThreePointArc((300.648719432, -101.630570669), (302.836891957, -100.423662295), (304.04380033, -98.23548977))
            Line((304.043800331, -98.23548977), (303.55614601, -98.12506666))
            ThreePointArc((303.55614601, -98.12506666), (302.483338566, -100.070108905), (300.538296322, -101.142916348))
        make_face()
    extrude(amount=BOSS_EXTRUDE10_DEPTH)


solid = part.part
